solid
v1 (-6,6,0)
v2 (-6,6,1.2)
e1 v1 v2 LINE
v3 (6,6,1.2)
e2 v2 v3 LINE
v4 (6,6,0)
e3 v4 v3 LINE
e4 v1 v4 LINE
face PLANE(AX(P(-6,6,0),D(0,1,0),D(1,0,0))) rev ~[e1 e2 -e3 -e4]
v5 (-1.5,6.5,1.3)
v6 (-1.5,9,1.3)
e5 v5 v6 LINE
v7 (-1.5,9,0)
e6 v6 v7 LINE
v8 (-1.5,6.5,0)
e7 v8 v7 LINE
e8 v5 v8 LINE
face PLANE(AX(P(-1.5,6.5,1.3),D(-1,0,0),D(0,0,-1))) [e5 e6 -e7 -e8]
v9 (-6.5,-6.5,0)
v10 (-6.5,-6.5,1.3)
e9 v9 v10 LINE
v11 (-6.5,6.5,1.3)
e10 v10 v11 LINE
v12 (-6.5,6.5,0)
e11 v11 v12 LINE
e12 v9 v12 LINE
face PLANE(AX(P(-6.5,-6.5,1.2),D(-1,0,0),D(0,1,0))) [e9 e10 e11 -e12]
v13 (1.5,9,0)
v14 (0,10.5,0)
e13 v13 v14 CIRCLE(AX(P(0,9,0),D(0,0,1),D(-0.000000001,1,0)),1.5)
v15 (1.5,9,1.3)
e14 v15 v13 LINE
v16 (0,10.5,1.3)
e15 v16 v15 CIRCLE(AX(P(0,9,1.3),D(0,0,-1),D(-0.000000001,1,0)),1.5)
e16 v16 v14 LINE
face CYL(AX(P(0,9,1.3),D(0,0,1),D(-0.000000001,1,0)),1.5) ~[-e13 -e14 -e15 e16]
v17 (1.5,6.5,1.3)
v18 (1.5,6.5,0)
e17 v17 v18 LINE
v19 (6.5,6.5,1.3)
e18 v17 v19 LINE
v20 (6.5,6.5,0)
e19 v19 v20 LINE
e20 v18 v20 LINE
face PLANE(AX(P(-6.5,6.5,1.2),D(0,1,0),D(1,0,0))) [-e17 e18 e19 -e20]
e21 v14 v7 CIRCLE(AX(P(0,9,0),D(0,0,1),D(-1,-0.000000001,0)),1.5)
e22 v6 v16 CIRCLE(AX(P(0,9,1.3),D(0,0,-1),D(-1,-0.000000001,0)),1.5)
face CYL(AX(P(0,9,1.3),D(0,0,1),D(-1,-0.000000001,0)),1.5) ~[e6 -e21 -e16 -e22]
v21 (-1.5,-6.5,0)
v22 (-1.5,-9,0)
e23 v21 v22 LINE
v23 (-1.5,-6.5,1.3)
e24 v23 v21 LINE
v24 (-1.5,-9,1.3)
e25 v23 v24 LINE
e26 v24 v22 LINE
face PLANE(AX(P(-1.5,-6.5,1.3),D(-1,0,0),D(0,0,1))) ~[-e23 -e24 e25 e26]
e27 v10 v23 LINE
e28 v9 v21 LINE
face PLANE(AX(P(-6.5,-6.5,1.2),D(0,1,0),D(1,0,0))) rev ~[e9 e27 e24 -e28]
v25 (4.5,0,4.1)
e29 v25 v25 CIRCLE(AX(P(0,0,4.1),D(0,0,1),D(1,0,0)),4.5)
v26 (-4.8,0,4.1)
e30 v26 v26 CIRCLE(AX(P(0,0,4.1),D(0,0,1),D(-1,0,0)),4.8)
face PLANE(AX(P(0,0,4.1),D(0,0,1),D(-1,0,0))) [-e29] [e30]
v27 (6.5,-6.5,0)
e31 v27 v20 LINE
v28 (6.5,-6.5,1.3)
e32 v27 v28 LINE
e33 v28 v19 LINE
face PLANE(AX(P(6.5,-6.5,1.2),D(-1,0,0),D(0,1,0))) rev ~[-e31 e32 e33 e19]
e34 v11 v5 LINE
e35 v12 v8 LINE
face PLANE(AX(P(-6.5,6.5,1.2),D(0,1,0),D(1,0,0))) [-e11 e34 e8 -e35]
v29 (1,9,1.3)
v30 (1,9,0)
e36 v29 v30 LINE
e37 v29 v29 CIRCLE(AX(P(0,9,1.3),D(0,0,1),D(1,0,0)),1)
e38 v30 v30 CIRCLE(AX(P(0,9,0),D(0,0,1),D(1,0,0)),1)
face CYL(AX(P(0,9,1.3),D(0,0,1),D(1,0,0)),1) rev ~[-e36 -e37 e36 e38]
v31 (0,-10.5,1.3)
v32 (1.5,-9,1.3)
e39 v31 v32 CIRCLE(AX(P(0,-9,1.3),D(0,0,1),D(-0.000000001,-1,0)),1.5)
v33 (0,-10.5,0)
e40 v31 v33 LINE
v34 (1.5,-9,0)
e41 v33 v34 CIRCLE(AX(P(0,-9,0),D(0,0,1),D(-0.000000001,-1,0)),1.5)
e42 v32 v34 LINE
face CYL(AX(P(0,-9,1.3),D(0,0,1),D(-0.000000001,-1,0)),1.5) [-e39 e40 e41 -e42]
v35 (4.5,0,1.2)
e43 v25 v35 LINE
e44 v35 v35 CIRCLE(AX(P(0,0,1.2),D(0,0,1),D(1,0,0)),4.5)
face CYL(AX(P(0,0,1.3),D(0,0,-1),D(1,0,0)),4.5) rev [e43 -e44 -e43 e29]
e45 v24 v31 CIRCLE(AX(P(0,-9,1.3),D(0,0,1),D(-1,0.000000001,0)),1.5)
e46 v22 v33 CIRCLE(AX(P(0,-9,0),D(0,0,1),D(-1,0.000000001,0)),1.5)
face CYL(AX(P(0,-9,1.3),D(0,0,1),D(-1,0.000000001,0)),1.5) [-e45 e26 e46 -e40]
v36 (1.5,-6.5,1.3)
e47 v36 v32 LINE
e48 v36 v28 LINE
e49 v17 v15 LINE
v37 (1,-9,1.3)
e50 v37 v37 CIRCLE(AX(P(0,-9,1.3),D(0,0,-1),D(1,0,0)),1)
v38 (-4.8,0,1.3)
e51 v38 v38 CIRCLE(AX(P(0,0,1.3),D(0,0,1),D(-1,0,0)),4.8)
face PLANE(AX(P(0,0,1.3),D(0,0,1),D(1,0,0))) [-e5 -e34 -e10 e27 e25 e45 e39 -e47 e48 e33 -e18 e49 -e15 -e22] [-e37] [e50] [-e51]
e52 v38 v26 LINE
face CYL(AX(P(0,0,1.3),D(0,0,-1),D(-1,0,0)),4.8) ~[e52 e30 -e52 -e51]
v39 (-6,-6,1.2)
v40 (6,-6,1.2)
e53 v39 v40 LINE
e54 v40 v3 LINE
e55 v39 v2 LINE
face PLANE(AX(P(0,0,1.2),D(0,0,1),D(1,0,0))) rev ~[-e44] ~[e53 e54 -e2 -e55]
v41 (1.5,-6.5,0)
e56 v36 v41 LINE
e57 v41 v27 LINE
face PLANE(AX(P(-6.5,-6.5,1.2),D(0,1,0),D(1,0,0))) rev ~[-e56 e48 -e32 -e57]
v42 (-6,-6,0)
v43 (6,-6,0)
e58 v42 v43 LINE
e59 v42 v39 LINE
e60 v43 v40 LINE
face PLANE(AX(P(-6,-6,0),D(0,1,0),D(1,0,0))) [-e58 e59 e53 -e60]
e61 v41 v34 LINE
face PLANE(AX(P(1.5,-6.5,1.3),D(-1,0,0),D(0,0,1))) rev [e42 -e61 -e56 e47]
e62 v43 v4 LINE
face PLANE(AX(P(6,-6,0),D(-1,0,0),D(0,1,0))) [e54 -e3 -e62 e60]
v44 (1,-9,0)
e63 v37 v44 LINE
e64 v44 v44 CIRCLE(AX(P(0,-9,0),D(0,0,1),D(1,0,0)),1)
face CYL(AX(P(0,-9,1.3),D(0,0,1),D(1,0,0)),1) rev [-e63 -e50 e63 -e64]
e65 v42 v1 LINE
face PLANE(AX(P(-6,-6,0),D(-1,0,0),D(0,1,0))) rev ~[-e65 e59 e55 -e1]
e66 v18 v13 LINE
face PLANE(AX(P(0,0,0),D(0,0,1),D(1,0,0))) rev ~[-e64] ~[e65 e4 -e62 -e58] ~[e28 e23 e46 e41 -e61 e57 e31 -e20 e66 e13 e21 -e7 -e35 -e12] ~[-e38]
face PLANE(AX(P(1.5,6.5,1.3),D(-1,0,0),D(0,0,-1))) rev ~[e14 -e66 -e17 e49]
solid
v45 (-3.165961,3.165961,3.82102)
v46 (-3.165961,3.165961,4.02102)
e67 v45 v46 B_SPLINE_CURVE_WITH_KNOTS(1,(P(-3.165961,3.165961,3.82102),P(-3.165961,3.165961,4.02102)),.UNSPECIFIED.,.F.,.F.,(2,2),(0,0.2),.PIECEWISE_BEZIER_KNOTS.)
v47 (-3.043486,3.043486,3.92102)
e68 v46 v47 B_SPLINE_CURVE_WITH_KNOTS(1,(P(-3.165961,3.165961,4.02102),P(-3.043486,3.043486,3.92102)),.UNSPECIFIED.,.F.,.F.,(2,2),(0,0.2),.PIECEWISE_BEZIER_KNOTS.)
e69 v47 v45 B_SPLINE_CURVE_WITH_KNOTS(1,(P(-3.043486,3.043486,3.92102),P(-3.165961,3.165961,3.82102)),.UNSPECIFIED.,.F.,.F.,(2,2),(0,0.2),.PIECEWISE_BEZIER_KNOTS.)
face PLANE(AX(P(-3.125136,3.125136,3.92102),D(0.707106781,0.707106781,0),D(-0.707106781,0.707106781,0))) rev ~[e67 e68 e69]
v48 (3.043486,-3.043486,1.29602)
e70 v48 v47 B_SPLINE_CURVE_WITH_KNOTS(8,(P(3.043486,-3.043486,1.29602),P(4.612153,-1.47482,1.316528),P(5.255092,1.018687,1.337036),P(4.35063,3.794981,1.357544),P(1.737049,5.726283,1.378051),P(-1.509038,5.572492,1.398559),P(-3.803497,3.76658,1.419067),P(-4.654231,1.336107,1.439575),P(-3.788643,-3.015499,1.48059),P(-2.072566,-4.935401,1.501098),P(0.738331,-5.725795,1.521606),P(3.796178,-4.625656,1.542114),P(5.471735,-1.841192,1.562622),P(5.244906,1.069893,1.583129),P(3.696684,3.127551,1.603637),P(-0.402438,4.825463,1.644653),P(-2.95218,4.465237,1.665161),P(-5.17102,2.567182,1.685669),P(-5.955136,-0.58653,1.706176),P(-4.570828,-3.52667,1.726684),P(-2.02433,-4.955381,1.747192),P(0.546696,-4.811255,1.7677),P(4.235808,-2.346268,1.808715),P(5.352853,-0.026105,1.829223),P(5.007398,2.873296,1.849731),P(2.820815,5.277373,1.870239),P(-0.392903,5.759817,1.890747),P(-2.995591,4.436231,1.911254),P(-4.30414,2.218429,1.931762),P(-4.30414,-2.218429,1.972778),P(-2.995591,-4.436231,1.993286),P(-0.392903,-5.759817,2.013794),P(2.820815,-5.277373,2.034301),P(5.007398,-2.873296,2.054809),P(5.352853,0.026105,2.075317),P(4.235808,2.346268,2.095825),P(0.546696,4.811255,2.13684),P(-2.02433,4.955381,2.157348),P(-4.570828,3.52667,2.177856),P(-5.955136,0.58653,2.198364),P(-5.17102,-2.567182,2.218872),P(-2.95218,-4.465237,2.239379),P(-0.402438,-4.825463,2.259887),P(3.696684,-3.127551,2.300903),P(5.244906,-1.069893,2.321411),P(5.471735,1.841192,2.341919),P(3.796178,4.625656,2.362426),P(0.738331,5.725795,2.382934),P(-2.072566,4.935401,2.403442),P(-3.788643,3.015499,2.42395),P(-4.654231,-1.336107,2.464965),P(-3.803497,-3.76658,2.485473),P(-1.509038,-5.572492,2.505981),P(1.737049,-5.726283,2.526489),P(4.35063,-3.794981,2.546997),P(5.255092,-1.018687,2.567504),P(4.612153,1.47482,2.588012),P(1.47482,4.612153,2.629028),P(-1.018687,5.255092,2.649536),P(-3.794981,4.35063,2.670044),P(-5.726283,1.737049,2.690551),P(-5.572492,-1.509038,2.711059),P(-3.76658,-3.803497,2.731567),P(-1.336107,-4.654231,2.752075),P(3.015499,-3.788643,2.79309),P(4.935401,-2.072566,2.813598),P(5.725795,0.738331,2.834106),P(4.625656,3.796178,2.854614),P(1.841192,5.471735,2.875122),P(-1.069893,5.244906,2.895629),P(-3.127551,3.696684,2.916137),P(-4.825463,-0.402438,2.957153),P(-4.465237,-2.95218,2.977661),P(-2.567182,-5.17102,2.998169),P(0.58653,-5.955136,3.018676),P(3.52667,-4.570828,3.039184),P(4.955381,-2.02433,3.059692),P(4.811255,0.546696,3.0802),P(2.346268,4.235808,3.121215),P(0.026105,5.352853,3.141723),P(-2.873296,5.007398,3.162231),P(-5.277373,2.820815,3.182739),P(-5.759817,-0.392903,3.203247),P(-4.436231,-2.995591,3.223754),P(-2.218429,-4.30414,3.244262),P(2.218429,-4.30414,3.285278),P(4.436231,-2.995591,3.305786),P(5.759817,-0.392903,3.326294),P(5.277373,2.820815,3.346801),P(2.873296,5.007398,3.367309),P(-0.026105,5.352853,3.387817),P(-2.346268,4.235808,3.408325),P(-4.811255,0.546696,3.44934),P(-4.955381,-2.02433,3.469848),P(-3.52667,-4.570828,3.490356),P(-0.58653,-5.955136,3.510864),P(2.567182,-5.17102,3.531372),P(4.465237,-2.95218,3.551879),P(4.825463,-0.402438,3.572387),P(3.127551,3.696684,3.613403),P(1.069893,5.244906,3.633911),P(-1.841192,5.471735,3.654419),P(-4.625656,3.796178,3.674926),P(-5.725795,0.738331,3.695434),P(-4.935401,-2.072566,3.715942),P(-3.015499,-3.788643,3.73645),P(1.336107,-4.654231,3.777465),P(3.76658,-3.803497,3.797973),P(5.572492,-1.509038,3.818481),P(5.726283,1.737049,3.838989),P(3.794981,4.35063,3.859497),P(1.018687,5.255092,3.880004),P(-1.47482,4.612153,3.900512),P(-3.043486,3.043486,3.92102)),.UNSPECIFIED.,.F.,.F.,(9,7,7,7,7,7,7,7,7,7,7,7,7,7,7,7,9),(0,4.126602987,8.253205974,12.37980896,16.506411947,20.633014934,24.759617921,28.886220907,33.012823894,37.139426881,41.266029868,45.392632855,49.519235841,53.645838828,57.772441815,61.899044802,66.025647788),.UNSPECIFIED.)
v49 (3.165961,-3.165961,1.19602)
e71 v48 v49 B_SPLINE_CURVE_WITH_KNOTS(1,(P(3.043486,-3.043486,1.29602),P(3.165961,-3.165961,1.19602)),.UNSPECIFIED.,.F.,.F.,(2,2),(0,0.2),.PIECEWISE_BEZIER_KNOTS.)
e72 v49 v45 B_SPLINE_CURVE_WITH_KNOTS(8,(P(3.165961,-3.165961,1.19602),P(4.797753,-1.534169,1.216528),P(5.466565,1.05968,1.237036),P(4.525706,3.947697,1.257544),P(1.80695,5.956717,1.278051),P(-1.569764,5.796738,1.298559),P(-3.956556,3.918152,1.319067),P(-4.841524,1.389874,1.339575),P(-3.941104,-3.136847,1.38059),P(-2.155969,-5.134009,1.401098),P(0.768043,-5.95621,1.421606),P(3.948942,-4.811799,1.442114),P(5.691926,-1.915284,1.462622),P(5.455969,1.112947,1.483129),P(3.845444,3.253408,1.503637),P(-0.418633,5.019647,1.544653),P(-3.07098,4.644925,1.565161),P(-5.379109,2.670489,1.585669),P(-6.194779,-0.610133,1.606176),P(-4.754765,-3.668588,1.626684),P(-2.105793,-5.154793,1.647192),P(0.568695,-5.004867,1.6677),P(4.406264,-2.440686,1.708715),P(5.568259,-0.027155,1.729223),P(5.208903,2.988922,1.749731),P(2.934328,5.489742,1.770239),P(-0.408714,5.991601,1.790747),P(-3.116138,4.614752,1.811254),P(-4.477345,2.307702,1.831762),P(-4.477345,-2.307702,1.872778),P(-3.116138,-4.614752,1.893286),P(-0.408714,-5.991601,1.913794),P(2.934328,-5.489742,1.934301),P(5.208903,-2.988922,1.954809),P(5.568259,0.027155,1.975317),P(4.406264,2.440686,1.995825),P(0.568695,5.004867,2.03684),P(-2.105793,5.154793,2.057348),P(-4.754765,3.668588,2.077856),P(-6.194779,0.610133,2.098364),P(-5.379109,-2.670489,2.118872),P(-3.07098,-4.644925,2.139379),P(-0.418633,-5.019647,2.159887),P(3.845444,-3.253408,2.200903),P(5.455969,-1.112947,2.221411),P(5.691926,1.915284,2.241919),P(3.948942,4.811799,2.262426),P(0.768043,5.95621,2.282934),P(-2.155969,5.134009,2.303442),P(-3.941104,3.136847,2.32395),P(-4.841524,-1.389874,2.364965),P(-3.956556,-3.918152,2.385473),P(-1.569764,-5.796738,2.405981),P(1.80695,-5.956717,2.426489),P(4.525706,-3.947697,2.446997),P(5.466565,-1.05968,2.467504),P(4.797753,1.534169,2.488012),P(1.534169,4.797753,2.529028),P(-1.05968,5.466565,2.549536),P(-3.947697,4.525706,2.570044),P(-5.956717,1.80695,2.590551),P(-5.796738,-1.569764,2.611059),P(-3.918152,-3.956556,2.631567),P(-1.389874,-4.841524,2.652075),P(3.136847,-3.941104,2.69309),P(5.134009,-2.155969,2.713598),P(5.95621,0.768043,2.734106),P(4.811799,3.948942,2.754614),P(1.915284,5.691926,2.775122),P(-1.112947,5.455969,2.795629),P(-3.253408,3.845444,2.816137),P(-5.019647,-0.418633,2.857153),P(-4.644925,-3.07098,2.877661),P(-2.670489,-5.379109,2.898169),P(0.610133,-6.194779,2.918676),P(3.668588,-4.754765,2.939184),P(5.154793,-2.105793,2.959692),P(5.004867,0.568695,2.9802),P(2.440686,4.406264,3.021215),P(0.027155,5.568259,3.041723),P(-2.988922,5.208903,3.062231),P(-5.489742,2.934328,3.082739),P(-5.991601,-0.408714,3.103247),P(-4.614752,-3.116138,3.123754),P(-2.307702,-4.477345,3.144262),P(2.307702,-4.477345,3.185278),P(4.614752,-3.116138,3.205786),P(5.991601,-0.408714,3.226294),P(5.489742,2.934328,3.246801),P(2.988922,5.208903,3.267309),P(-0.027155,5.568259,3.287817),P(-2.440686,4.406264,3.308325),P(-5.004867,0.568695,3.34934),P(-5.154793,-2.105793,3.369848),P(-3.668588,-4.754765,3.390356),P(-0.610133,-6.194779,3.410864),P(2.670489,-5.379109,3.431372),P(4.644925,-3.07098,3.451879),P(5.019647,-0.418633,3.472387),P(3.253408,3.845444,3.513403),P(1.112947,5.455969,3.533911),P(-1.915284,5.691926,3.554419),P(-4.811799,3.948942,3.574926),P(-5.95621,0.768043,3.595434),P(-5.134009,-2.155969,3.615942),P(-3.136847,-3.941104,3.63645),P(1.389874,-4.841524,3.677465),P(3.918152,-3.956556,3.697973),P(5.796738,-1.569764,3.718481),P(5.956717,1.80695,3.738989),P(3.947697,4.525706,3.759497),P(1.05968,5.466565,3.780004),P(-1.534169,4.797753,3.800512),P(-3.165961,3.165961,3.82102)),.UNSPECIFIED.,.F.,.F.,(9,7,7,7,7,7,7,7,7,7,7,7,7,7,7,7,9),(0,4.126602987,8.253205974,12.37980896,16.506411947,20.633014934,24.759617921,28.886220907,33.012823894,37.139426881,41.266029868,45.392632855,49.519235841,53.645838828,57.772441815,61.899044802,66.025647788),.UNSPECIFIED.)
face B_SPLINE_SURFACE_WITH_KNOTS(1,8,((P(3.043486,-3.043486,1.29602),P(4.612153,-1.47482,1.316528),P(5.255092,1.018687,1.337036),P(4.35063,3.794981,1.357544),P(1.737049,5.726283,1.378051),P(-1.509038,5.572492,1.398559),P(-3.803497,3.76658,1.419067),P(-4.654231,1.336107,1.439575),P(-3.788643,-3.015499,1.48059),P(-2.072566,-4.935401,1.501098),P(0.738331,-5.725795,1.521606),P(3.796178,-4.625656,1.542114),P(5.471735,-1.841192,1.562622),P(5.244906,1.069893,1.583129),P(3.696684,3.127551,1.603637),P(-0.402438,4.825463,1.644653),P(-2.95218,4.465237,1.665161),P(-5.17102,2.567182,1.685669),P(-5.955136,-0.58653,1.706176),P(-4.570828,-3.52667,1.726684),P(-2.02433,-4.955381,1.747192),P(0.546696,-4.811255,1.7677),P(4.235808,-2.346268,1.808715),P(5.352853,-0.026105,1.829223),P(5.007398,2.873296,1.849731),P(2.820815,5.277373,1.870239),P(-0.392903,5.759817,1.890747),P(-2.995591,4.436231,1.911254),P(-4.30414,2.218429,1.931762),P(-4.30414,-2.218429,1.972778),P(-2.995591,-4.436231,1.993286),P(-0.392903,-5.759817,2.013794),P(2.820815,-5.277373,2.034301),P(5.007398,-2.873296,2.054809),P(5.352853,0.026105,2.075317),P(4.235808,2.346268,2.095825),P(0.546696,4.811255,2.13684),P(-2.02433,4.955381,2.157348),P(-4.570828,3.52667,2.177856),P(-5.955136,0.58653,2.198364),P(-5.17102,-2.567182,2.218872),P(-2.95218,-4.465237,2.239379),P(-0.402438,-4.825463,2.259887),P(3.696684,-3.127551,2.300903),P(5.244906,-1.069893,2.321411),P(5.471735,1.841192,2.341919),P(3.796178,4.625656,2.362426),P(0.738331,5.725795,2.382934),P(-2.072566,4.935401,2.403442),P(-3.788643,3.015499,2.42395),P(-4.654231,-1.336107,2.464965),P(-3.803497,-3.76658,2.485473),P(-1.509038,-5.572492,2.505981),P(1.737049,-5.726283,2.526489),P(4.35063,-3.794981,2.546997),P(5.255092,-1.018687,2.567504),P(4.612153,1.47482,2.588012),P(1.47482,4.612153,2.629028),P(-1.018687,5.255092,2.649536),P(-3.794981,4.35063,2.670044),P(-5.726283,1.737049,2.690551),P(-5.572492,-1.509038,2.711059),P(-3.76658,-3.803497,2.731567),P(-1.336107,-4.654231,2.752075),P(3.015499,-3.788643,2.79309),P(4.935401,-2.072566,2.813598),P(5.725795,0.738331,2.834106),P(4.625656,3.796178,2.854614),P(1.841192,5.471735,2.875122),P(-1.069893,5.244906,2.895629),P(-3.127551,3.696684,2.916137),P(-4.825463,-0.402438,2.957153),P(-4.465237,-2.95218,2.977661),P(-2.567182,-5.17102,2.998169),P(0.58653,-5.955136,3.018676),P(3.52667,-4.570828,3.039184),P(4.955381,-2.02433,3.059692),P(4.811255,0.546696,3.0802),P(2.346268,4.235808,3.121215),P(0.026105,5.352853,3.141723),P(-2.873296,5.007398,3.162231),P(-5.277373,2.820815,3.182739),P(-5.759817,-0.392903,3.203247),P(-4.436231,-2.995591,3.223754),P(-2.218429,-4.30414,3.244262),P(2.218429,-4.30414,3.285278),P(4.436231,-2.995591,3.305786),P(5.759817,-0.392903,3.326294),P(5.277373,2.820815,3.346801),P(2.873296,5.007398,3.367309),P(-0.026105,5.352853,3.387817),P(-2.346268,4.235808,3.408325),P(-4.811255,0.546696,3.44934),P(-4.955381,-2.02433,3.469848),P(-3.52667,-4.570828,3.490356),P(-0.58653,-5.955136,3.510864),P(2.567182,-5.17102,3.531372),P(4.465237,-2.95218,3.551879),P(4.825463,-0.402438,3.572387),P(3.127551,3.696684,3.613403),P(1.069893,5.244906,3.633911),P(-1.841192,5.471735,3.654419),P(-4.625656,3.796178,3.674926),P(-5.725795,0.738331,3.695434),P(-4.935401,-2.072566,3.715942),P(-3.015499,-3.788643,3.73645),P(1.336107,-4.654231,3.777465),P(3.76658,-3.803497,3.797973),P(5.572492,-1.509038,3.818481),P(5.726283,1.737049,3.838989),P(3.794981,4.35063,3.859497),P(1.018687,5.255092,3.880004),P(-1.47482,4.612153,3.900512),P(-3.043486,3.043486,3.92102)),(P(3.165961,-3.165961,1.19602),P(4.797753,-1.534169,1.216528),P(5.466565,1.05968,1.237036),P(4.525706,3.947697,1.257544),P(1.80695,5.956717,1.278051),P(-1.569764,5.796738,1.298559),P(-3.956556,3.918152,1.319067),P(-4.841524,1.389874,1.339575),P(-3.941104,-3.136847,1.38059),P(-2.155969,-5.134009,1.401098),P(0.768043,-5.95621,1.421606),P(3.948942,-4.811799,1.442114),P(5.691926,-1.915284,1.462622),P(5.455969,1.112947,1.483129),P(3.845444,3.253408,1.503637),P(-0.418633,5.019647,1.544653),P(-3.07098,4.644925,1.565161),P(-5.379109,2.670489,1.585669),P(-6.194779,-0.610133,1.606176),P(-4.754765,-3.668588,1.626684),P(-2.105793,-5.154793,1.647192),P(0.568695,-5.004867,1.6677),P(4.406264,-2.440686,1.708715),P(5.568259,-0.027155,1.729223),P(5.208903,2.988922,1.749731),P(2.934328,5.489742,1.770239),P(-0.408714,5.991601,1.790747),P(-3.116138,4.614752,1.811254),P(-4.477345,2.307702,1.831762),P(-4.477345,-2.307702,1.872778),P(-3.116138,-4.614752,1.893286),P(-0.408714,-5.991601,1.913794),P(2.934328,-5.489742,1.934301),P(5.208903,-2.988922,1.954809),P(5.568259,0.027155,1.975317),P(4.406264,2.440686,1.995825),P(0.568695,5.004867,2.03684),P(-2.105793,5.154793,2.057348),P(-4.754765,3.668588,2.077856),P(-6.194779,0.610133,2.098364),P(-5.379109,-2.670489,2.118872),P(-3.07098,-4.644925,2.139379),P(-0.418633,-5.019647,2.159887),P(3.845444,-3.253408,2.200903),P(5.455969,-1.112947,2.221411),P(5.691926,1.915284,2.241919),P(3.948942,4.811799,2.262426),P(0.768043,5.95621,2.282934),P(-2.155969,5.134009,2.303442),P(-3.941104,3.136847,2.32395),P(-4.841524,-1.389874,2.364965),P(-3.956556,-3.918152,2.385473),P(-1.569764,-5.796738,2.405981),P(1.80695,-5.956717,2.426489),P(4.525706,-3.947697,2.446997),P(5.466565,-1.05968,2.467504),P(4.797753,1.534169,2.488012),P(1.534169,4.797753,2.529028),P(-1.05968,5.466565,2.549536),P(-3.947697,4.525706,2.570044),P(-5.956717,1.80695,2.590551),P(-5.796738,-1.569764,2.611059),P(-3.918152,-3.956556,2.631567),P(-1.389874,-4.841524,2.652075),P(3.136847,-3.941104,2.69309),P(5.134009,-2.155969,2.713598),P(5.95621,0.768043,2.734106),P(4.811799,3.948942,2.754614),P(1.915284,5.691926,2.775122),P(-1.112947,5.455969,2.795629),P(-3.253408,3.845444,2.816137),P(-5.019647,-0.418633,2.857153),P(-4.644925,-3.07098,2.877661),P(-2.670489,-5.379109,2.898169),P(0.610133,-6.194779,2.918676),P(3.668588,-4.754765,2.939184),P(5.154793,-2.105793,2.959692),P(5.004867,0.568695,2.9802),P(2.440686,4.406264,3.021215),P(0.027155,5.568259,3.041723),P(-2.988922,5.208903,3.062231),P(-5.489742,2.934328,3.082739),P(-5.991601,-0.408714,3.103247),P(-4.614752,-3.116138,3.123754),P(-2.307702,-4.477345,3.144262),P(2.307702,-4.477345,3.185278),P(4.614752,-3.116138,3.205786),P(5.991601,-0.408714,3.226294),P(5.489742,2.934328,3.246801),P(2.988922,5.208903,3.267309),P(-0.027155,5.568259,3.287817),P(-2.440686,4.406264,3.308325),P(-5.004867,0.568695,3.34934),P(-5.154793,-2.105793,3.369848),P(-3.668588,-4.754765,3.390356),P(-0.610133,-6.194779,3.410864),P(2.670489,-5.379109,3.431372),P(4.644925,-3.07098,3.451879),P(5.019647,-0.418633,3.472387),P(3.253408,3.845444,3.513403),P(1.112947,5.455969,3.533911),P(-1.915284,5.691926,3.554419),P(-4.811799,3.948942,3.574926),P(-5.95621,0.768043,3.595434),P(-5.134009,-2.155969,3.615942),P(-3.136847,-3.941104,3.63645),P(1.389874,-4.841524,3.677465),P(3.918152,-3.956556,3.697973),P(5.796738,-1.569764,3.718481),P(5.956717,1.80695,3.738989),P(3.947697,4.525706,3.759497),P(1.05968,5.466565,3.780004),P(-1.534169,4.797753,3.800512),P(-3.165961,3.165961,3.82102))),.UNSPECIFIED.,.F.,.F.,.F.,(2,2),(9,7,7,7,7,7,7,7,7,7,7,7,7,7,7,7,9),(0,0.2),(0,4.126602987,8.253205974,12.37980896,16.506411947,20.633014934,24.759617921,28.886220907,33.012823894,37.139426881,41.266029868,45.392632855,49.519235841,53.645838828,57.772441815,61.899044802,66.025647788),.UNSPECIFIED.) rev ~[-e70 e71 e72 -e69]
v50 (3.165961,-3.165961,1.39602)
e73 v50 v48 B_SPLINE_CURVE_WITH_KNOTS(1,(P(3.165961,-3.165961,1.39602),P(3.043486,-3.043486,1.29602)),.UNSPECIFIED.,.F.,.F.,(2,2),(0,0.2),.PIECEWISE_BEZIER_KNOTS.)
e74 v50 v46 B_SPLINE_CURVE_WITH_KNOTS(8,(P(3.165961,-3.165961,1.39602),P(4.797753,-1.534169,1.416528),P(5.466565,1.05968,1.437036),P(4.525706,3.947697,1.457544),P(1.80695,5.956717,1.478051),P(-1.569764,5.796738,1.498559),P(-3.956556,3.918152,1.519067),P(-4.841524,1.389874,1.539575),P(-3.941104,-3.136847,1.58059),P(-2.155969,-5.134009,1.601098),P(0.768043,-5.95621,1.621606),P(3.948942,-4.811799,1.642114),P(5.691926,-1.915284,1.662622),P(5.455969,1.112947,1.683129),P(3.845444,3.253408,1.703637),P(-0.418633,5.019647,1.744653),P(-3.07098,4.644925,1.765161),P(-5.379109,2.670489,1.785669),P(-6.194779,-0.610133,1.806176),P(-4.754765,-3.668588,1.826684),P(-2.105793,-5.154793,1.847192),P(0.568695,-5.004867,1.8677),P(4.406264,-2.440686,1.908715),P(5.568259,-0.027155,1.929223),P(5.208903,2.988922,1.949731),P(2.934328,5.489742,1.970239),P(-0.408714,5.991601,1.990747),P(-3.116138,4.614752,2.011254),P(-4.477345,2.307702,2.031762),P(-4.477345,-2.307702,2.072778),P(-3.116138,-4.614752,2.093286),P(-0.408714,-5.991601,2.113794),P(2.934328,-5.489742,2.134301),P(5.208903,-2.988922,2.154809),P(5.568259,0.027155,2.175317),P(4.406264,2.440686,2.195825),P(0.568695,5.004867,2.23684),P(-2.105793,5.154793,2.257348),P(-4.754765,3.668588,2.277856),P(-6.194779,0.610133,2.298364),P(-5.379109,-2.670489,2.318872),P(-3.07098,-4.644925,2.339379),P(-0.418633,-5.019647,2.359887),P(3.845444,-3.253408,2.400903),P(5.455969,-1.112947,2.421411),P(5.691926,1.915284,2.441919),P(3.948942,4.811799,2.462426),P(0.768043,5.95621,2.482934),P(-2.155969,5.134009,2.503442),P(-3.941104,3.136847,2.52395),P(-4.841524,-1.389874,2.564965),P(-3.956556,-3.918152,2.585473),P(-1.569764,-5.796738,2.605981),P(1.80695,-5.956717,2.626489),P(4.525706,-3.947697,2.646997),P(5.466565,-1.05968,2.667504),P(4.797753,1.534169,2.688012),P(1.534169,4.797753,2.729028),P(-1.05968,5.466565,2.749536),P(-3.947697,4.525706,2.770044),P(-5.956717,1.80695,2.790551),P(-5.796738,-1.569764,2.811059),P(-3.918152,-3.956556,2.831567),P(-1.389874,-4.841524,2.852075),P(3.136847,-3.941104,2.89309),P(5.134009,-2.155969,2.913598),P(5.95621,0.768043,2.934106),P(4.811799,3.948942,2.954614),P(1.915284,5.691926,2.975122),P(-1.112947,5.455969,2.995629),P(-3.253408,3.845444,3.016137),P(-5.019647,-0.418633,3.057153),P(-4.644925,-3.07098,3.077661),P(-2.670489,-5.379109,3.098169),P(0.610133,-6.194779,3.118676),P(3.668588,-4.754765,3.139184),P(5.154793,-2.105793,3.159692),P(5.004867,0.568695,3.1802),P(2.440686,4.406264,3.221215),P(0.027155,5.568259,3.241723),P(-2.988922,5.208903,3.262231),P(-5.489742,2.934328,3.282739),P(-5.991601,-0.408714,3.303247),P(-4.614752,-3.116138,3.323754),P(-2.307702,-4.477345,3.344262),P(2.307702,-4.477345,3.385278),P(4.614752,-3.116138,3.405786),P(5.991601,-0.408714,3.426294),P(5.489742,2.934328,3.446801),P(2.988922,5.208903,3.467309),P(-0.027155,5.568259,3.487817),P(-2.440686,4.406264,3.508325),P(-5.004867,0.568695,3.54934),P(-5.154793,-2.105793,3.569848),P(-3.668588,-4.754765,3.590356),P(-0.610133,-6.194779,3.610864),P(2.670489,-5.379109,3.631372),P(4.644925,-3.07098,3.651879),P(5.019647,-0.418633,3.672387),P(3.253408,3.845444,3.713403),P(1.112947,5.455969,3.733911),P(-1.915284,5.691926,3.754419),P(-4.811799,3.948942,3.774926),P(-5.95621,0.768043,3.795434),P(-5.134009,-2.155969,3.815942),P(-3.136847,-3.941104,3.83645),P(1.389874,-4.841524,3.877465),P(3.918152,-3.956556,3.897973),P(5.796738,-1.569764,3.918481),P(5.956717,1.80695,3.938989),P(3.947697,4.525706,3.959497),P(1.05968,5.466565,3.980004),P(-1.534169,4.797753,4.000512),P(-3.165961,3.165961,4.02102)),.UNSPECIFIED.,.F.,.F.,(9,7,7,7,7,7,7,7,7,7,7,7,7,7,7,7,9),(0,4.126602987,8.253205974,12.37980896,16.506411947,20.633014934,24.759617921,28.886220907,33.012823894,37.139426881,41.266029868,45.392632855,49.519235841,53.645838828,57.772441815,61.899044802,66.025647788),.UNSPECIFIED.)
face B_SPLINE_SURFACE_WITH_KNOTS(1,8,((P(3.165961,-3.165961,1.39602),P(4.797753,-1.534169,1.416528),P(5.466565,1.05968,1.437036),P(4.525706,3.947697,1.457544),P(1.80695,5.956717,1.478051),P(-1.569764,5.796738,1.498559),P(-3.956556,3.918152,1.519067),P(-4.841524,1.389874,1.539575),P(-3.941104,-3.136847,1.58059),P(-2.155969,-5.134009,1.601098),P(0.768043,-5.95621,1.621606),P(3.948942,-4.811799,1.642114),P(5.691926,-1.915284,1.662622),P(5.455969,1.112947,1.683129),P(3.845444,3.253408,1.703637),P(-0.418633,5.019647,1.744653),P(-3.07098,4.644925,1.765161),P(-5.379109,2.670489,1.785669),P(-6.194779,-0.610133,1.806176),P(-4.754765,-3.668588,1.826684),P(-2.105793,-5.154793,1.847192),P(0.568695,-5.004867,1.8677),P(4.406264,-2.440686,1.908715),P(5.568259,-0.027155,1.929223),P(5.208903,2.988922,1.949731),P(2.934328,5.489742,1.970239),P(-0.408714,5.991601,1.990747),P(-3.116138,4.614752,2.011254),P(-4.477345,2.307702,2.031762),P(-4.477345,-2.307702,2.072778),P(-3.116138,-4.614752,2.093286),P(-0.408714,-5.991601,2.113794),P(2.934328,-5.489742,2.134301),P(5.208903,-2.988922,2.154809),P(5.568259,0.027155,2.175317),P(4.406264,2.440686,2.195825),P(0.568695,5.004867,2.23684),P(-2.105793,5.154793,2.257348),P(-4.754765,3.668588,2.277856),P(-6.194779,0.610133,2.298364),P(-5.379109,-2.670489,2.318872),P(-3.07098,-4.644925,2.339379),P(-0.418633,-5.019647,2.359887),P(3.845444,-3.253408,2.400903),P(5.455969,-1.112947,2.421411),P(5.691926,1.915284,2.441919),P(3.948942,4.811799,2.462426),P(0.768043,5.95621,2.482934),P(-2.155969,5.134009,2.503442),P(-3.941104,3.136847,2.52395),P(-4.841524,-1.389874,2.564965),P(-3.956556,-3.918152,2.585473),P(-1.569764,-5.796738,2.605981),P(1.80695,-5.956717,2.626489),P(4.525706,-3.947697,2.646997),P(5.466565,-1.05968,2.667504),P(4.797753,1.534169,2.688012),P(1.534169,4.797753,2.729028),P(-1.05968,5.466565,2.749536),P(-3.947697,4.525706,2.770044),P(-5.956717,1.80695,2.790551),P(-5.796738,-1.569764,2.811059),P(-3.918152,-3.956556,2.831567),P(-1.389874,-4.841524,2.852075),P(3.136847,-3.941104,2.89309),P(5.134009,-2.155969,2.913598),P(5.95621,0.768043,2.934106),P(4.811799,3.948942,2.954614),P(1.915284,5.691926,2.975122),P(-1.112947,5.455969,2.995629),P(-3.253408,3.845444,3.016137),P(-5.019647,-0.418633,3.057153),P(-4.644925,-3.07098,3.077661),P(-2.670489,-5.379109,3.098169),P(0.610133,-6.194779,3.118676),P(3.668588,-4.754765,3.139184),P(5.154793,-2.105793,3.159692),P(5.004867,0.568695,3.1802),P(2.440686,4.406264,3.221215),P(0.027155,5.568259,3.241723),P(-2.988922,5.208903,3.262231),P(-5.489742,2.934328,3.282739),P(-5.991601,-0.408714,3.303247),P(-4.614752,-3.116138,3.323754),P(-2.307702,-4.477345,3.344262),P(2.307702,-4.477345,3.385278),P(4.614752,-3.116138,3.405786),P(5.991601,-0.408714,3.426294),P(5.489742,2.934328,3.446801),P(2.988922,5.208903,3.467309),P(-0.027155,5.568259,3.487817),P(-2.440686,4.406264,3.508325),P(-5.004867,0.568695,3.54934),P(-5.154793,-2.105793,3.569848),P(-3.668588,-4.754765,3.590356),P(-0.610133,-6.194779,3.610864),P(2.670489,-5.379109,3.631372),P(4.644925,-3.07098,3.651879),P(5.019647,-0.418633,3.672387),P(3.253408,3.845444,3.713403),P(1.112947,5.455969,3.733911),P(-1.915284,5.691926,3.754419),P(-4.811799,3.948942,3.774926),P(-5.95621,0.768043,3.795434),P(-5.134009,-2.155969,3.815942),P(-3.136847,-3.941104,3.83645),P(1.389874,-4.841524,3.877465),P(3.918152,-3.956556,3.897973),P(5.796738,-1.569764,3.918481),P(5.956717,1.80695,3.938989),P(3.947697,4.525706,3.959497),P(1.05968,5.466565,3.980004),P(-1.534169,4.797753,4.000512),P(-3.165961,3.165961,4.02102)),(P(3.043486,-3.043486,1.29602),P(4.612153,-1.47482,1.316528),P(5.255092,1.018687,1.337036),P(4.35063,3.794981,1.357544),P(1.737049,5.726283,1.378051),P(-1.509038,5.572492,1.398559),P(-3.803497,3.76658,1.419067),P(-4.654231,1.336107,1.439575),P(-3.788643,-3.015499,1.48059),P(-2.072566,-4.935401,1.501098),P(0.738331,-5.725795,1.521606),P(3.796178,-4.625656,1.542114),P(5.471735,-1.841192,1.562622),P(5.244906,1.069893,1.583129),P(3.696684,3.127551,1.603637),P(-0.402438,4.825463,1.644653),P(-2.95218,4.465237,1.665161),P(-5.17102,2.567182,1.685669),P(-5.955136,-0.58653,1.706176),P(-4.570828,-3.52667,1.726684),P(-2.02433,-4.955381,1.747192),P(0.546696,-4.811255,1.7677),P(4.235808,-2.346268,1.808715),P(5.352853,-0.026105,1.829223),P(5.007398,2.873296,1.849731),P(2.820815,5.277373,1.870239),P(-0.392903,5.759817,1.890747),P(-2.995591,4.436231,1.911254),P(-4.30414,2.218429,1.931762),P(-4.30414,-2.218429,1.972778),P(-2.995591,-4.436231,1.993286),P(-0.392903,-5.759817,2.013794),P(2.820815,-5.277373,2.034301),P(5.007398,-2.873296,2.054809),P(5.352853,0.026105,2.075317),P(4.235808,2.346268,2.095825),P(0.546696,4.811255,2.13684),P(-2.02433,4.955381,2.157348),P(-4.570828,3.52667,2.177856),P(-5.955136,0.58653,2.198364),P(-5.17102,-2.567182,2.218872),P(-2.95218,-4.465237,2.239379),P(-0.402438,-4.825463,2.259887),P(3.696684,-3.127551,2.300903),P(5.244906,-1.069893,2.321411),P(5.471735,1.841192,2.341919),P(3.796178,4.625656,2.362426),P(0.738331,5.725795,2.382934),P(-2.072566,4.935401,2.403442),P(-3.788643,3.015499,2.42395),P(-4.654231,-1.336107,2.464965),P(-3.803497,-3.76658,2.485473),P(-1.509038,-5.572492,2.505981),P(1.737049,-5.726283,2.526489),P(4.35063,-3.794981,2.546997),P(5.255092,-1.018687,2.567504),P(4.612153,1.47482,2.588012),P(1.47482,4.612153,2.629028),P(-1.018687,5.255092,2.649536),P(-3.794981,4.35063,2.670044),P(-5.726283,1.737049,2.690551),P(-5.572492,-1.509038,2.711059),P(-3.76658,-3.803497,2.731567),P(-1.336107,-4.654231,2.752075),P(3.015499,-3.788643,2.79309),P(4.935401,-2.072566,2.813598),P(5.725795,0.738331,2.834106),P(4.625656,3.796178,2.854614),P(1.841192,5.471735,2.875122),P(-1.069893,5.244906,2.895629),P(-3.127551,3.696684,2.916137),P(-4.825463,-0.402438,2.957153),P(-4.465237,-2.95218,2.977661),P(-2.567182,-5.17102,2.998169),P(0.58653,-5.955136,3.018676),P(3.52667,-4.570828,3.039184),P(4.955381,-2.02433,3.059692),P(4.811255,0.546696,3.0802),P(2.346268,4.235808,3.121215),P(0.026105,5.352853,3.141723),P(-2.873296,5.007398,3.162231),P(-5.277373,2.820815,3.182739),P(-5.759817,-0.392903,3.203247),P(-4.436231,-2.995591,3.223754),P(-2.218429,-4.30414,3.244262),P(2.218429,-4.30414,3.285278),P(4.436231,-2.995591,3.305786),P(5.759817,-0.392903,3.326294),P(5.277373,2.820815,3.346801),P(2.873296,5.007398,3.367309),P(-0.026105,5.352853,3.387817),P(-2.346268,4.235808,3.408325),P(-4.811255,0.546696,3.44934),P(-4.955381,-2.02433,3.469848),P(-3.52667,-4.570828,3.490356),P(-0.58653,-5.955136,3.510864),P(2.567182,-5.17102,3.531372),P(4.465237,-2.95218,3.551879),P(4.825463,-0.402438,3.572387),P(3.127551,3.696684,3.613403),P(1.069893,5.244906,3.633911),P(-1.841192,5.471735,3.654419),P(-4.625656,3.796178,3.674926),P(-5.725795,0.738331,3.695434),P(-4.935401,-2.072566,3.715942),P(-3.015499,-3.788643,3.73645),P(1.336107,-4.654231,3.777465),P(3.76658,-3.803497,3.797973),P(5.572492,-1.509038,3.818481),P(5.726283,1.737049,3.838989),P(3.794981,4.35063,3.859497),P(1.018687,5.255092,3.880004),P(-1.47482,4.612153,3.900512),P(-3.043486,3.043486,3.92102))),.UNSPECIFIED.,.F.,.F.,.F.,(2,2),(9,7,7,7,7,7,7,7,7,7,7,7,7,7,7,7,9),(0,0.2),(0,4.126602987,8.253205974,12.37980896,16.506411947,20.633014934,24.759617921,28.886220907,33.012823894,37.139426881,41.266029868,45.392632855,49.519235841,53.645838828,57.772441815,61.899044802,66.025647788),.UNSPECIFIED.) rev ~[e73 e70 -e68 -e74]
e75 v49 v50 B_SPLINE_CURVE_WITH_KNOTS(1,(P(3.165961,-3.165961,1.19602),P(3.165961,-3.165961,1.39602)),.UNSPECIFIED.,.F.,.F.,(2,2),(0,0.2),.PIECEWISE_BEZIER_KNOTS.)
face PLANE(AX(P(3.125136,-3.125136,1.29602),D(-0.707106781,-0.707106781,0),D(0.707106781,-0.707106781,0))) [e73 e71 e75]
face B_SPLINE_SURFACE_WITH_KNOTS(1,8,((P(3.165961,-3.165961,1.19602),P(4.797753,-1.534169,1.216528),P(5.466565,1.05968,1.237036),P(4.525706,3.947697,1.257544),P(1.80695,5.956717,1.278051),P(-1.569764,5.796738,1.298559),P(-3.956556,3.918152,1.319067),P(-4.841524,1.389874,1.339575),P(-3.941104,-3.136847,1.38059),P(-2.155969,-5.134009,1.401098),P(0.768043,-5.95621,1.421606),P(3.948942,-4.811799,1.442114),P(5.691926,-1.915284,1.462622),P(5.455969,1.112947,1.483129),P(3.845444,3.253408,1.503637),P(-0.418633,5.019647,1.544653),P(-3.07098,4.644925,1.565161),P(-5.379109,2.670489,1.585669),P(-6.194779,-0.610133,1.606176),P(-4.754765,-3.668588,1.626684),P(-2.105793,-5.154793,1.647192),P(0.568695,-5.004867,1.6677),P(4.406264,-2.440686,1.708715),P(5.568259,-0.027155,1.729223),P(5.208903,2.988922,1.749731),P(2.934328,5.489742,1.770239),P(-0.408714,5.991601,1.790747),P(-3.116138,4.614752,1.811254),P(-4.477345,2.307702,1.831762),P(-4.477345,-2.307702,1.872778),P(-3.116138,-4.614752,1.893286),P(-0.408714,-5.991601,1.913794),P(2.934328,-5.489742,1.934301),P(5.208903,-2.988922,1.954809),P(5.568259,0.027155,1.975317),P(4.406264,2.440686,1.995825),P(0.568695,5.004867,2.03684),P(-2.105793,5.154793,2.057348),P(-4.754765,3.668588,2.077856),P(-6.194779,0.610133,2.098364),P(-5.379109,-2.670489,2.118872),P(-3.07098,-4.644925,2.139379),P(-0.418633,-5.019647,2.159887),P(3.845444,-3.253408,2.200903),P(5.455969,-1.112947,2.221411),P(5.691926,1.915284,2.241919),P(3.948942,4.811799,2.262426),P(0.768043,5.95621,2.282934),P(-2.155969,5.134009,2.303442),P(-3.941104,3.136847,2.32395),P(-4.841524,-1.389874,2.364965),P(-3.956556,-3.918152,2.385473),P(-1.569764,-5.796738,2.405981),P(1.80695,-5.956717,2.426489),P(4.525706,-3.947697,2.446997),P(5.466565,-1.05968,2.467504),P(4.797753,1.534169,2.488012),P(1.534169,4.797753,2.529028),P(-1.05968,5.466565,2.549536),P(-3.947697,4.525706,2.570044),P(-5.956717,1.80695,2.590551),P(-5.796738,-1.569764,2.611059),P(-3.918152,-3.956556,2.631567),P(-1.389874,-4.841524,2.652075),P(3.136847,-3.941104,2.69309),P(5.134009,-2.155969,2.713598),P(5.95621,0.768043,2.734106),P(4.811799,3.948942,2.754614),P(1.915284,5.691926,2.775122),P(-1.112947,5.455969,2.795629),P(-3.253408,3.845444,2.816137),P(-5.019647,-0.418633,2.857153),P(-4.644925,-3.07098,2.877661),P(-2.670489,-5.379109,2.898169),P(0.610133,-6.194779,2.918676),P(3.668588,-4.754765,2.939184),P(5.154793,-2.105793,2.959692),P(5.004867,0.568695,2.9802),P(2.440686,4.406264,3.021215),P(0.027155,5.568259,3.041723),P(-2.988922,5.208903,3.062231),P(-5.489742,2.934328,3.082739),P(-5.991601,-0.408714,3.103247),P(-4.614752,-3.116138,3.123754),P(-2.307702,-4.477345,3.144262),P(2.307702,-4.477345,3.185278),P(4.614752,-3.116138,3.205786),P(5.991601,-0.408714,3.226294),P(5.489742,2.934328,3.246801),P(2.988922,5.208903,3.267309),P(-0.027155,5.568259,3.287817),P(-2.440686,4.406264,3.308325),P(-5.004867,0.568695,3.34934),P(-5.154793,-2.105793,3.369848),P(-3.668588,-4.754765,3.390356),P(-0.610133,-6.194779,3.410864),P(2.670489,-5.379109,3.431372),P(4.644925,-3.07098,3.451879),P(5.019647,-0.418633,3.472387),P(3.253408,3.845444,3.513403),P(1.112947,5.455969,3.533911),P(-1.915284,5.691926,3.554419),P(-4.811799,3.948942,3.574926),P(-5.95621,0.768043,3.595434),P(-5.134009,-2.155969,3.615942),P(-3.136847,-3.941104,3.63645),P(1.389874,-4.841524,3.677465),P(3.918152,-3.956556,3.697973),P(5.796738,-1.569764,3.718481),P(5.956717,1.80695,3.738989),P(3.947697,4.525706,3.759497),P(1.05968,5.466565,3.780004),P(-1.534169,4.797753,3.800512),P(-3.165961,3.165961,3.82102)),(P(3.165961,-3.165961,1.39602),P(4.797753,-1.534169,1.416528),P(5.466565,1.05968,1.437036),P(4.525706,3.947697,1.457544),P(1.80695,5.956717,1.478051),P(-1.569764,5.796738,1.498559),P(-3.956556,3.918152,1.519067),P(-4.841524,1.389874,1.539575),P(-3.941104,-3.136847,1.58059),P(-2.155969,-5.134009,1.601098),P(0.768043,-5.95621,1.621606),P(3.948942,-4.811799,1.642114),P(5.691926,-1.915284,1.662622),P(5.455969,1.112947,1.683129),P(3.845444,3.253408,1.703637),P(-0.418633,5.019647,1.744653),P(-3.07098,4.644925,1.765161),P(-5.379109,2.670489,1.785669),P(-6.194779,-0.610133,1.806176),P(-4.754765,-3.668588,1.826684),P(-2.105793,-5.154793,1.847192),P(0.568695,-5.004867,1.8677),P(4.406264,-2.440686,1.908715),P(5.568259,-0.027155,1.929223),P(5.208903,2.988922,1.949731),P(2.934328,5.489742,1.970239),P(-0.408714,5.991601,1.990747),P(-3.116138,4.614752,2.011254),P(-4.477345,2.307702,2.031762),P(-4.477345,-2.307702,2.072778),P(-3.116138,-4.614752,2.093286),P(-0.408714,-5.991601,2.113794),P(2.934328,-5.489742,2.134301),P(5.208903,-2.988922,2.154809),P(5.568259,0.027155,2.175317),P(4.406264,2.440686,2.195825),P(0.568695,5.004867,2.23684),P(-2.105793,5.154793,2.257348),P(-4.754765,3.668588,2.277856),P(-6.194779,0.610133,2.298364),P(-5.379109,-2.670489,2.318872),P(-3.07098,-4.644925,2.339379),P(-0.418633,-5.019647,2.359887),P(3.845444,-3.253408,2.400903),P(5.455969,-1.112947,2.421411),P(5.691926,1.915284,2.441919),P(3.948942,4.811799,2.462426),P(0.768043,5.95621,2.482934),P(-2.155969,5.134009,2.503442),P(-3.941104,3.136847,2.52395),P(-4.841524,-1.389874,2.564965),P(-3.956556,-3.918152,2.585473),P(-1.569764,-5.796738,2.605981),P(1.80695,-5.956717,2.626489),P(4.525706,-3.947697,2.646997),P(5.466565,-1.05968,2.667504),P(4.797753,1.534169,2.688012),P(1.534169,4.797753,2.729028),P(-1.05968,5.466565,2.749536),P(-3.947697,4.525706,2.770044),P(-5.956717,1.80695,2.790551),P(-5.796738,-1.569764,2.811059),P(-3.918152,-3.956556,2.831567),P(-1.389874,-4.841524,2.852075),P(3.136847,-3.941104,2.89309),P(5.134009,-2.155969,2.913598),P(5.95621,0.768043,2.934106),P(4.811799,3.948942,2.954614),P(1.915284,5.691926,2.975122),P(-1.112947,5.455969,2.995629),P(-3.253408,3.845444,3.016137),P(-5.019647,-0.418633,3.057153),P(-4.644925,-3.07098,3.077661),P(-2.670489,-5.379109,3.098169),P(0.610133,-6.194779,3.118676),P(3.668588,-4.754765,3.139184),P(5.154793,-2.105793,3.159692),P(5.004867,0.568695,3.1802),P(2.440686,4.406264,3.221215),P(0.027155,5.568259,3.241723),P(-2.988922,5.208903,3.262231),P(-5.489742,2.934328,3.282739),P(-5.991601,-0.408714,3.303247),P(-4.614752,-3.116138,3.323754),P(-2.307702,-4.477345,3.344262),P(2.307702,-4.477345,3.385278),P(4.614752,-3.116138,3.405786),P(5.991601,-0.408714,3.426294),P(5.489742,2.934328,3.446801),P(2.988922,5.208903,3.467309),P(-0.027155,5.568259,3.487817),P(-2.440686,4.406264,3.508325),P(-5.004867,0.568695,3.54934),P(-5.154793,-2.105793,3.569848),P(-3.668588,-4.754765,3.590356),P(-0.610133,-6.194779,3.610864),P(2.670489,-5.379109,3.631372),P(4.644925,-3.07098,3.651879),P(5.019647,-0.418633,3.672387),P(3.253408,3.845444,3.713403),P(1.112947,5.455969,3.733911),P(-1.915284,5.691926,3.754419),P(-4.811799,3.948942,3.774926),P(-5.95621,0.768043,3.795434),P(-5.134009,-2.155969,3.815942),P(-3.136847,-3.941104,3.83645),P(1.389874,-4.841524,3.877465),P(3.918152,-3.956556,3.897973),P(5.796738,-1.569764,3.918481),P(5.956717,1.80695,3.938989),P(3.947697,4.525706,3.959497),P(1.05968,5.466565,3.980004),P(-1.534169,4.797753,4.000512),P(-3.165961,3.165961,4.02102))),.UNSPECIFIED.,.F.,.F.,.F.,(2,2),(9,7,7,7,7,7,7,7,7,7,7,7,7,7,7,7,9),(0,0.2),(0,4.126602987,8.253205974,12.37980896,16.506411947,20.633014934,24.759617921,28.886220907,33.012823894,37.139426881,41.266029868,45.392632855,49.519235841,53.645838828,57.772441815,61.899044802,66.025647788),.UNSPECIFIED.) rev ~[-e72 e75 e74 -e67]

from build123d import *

# Parameters (mm, degrees)
SKETCH_1_W          = 13
SKETCH_1_H          = 13
SKETCH_1_W_2        = 12
SKETCH_1_H_2        = 12
EXTRUDE_1_DEPTH     = 1.2
SKETCH_2_W          = 13
SKETCH_2_H          = 13
SKETCH_2_R          = 4.5
EXTRUDE_2_DEPTH     = 0.1
SKETCH_3_W          = 3
SKETCH_3_H          = 1.3
EXTRUDE_3_DEPTH     = 4
CUT_EXTRUDE_1_DEPTH = 4
SKETCH_5_R          = 1
CUT_EXTRUDE_2_DEPTH = 4
SKETCH_6_R          = 4.8
SKETCH_6_R_2        = 4.5
EXTRUDE_4_DEPTH     = 2.8
SWEEP_1_PITCH       = 0.25
SWEEP_1_HEIGHT      = 2.625
SWEEP_1_RADIUS      = 4.5
SWEEP_1_START_ANGLE = -45


with BuildPart() as part:
    # 草图1 → 凸台-拉伸1 (new body)
    with BuildSketch(Plane.XY):
        Rectangle(SKETCH_1_W, SKETCH_1_H)
        Rectangle(SKETCH_1_W_2, SKETCH_1_H_2, mode=Mode.SUBTRACT)
    extrude(amount=EXTRUDE_1_DEPTH)

    # 草图2 → 凸台-拉伸2 (add)
    with BuildSketch(Plane.XY.offset(1.2)):
        Rectangle(SKETCH_2_W, SKETCH_2_H)
        Circle(SKETCH_2_R, mode=Mode.SUBTRACT)
    extrude(amount=EXTRUDE_2_DEPTH)

    # 草图3 → 凸台-拉伸3 (add)
    with BuildSketch(Plane(origin=(0, 6.5, 0), x_dir=(1, 0, 0), z_dir=(0, 1, 0))):
        with Locations((0, -0.65)):
            Rectangle(SKETCH_3_W, SKETCH_3_H)
    extrude_3 = extrude(amount=EXTRUDE_3_DEPTH)

    # 草图4 → 切除-拉伸1 (cut)
    with BuildSketch(Plane.XY.offset(1.3)):
        with BuildLine():
            Line((-1.5, 10.5), (-1.5, 9))
            ThreePointArc((-1.5, 9), (-1.060660172, 10.060660172), (0, 10.5))
            Line((0, 10.5), (-1.5, 10.5))
        make_face()
        with BuildLine():
            ThreePointArc((0, 10.5), (1.060660172, 10.060660172), (1.5, 9))
            Line((1.5, 9), (1.5, 10.5))
            Line((1.5, 10.5), (0, 10.5))
        make_face()
    cut_extrude_1 = extrude(amount=-CUT_EXTRUDE_1_DEPTH, mode=Mode.SUBTRACT)

    # 草图5 → 切除-拉伸2 (cut)
    with BuildSketch(Plane.XY.offset(1.3)):
        with Locations((0, 9)):
            Circle(SKETCH_5_R)
    cut_extrude_2 = extrude(amount=-CUT_EXTRUDE_2_DEPTH, mode=Mode.SUBTRACT)

    # 镜向1: 凸台-拉伸3, 切除-拉伸1, 切除-拉伸2 across plane
    add(extrude_3.mirror(Plane.ZX))
    add(cut_extrude_1.mirror(Plane.ZX), mode=Mode.SUBTRACT)
    add(cut_extrude_2.mirror(Plane.ZX), mode=Mode.SUBTRACT)

    # 草图6 → 凸台-拉伸4 (add)
    with BuildSketch(Plane.XY.offset(1.3)):
        with Locations(Location((0, 0, 0), (0, 0, 180))):
            Circle(SKETCH_6_R)
        Circle(SKETCH_6_R_2, mode=Mode.SUBTRACT)
    extrude(amount=EXTRUDE_4_DEPTH)


with BuildPart() as body_2:
    # 扫描1: sweep along a helix
    with BuildLine() as sweep_1_path:
        add(Helix(SWEEP_1_PITCH, SWEEP_1_HEIGHT, SWEEP_1_RADIUS, center=(0, 0, 1.2), direction=(0, 0, 1), mode=Mode.PRIVATE).rotate(Axis((0, 0, 1.2), (0, 0, 1)), SWEEP_1_START_ANGLE))
    # 草图8 → 扫描1 (sweep)
    with BuildSketch(Plane(origin=(0, 0, 0), x_dir=(1, 0, 0), z_dir=(0, 1, 0))):
        Polygon((-4.477344788, -1.602270081), (-4.477344788, -1.802270081), (-4.304139707, -1.702270081), align=None)
    sweep(path=sweep_1_path.line, is_frenet=True)


solid = Compound([part.part, body_2.part])
